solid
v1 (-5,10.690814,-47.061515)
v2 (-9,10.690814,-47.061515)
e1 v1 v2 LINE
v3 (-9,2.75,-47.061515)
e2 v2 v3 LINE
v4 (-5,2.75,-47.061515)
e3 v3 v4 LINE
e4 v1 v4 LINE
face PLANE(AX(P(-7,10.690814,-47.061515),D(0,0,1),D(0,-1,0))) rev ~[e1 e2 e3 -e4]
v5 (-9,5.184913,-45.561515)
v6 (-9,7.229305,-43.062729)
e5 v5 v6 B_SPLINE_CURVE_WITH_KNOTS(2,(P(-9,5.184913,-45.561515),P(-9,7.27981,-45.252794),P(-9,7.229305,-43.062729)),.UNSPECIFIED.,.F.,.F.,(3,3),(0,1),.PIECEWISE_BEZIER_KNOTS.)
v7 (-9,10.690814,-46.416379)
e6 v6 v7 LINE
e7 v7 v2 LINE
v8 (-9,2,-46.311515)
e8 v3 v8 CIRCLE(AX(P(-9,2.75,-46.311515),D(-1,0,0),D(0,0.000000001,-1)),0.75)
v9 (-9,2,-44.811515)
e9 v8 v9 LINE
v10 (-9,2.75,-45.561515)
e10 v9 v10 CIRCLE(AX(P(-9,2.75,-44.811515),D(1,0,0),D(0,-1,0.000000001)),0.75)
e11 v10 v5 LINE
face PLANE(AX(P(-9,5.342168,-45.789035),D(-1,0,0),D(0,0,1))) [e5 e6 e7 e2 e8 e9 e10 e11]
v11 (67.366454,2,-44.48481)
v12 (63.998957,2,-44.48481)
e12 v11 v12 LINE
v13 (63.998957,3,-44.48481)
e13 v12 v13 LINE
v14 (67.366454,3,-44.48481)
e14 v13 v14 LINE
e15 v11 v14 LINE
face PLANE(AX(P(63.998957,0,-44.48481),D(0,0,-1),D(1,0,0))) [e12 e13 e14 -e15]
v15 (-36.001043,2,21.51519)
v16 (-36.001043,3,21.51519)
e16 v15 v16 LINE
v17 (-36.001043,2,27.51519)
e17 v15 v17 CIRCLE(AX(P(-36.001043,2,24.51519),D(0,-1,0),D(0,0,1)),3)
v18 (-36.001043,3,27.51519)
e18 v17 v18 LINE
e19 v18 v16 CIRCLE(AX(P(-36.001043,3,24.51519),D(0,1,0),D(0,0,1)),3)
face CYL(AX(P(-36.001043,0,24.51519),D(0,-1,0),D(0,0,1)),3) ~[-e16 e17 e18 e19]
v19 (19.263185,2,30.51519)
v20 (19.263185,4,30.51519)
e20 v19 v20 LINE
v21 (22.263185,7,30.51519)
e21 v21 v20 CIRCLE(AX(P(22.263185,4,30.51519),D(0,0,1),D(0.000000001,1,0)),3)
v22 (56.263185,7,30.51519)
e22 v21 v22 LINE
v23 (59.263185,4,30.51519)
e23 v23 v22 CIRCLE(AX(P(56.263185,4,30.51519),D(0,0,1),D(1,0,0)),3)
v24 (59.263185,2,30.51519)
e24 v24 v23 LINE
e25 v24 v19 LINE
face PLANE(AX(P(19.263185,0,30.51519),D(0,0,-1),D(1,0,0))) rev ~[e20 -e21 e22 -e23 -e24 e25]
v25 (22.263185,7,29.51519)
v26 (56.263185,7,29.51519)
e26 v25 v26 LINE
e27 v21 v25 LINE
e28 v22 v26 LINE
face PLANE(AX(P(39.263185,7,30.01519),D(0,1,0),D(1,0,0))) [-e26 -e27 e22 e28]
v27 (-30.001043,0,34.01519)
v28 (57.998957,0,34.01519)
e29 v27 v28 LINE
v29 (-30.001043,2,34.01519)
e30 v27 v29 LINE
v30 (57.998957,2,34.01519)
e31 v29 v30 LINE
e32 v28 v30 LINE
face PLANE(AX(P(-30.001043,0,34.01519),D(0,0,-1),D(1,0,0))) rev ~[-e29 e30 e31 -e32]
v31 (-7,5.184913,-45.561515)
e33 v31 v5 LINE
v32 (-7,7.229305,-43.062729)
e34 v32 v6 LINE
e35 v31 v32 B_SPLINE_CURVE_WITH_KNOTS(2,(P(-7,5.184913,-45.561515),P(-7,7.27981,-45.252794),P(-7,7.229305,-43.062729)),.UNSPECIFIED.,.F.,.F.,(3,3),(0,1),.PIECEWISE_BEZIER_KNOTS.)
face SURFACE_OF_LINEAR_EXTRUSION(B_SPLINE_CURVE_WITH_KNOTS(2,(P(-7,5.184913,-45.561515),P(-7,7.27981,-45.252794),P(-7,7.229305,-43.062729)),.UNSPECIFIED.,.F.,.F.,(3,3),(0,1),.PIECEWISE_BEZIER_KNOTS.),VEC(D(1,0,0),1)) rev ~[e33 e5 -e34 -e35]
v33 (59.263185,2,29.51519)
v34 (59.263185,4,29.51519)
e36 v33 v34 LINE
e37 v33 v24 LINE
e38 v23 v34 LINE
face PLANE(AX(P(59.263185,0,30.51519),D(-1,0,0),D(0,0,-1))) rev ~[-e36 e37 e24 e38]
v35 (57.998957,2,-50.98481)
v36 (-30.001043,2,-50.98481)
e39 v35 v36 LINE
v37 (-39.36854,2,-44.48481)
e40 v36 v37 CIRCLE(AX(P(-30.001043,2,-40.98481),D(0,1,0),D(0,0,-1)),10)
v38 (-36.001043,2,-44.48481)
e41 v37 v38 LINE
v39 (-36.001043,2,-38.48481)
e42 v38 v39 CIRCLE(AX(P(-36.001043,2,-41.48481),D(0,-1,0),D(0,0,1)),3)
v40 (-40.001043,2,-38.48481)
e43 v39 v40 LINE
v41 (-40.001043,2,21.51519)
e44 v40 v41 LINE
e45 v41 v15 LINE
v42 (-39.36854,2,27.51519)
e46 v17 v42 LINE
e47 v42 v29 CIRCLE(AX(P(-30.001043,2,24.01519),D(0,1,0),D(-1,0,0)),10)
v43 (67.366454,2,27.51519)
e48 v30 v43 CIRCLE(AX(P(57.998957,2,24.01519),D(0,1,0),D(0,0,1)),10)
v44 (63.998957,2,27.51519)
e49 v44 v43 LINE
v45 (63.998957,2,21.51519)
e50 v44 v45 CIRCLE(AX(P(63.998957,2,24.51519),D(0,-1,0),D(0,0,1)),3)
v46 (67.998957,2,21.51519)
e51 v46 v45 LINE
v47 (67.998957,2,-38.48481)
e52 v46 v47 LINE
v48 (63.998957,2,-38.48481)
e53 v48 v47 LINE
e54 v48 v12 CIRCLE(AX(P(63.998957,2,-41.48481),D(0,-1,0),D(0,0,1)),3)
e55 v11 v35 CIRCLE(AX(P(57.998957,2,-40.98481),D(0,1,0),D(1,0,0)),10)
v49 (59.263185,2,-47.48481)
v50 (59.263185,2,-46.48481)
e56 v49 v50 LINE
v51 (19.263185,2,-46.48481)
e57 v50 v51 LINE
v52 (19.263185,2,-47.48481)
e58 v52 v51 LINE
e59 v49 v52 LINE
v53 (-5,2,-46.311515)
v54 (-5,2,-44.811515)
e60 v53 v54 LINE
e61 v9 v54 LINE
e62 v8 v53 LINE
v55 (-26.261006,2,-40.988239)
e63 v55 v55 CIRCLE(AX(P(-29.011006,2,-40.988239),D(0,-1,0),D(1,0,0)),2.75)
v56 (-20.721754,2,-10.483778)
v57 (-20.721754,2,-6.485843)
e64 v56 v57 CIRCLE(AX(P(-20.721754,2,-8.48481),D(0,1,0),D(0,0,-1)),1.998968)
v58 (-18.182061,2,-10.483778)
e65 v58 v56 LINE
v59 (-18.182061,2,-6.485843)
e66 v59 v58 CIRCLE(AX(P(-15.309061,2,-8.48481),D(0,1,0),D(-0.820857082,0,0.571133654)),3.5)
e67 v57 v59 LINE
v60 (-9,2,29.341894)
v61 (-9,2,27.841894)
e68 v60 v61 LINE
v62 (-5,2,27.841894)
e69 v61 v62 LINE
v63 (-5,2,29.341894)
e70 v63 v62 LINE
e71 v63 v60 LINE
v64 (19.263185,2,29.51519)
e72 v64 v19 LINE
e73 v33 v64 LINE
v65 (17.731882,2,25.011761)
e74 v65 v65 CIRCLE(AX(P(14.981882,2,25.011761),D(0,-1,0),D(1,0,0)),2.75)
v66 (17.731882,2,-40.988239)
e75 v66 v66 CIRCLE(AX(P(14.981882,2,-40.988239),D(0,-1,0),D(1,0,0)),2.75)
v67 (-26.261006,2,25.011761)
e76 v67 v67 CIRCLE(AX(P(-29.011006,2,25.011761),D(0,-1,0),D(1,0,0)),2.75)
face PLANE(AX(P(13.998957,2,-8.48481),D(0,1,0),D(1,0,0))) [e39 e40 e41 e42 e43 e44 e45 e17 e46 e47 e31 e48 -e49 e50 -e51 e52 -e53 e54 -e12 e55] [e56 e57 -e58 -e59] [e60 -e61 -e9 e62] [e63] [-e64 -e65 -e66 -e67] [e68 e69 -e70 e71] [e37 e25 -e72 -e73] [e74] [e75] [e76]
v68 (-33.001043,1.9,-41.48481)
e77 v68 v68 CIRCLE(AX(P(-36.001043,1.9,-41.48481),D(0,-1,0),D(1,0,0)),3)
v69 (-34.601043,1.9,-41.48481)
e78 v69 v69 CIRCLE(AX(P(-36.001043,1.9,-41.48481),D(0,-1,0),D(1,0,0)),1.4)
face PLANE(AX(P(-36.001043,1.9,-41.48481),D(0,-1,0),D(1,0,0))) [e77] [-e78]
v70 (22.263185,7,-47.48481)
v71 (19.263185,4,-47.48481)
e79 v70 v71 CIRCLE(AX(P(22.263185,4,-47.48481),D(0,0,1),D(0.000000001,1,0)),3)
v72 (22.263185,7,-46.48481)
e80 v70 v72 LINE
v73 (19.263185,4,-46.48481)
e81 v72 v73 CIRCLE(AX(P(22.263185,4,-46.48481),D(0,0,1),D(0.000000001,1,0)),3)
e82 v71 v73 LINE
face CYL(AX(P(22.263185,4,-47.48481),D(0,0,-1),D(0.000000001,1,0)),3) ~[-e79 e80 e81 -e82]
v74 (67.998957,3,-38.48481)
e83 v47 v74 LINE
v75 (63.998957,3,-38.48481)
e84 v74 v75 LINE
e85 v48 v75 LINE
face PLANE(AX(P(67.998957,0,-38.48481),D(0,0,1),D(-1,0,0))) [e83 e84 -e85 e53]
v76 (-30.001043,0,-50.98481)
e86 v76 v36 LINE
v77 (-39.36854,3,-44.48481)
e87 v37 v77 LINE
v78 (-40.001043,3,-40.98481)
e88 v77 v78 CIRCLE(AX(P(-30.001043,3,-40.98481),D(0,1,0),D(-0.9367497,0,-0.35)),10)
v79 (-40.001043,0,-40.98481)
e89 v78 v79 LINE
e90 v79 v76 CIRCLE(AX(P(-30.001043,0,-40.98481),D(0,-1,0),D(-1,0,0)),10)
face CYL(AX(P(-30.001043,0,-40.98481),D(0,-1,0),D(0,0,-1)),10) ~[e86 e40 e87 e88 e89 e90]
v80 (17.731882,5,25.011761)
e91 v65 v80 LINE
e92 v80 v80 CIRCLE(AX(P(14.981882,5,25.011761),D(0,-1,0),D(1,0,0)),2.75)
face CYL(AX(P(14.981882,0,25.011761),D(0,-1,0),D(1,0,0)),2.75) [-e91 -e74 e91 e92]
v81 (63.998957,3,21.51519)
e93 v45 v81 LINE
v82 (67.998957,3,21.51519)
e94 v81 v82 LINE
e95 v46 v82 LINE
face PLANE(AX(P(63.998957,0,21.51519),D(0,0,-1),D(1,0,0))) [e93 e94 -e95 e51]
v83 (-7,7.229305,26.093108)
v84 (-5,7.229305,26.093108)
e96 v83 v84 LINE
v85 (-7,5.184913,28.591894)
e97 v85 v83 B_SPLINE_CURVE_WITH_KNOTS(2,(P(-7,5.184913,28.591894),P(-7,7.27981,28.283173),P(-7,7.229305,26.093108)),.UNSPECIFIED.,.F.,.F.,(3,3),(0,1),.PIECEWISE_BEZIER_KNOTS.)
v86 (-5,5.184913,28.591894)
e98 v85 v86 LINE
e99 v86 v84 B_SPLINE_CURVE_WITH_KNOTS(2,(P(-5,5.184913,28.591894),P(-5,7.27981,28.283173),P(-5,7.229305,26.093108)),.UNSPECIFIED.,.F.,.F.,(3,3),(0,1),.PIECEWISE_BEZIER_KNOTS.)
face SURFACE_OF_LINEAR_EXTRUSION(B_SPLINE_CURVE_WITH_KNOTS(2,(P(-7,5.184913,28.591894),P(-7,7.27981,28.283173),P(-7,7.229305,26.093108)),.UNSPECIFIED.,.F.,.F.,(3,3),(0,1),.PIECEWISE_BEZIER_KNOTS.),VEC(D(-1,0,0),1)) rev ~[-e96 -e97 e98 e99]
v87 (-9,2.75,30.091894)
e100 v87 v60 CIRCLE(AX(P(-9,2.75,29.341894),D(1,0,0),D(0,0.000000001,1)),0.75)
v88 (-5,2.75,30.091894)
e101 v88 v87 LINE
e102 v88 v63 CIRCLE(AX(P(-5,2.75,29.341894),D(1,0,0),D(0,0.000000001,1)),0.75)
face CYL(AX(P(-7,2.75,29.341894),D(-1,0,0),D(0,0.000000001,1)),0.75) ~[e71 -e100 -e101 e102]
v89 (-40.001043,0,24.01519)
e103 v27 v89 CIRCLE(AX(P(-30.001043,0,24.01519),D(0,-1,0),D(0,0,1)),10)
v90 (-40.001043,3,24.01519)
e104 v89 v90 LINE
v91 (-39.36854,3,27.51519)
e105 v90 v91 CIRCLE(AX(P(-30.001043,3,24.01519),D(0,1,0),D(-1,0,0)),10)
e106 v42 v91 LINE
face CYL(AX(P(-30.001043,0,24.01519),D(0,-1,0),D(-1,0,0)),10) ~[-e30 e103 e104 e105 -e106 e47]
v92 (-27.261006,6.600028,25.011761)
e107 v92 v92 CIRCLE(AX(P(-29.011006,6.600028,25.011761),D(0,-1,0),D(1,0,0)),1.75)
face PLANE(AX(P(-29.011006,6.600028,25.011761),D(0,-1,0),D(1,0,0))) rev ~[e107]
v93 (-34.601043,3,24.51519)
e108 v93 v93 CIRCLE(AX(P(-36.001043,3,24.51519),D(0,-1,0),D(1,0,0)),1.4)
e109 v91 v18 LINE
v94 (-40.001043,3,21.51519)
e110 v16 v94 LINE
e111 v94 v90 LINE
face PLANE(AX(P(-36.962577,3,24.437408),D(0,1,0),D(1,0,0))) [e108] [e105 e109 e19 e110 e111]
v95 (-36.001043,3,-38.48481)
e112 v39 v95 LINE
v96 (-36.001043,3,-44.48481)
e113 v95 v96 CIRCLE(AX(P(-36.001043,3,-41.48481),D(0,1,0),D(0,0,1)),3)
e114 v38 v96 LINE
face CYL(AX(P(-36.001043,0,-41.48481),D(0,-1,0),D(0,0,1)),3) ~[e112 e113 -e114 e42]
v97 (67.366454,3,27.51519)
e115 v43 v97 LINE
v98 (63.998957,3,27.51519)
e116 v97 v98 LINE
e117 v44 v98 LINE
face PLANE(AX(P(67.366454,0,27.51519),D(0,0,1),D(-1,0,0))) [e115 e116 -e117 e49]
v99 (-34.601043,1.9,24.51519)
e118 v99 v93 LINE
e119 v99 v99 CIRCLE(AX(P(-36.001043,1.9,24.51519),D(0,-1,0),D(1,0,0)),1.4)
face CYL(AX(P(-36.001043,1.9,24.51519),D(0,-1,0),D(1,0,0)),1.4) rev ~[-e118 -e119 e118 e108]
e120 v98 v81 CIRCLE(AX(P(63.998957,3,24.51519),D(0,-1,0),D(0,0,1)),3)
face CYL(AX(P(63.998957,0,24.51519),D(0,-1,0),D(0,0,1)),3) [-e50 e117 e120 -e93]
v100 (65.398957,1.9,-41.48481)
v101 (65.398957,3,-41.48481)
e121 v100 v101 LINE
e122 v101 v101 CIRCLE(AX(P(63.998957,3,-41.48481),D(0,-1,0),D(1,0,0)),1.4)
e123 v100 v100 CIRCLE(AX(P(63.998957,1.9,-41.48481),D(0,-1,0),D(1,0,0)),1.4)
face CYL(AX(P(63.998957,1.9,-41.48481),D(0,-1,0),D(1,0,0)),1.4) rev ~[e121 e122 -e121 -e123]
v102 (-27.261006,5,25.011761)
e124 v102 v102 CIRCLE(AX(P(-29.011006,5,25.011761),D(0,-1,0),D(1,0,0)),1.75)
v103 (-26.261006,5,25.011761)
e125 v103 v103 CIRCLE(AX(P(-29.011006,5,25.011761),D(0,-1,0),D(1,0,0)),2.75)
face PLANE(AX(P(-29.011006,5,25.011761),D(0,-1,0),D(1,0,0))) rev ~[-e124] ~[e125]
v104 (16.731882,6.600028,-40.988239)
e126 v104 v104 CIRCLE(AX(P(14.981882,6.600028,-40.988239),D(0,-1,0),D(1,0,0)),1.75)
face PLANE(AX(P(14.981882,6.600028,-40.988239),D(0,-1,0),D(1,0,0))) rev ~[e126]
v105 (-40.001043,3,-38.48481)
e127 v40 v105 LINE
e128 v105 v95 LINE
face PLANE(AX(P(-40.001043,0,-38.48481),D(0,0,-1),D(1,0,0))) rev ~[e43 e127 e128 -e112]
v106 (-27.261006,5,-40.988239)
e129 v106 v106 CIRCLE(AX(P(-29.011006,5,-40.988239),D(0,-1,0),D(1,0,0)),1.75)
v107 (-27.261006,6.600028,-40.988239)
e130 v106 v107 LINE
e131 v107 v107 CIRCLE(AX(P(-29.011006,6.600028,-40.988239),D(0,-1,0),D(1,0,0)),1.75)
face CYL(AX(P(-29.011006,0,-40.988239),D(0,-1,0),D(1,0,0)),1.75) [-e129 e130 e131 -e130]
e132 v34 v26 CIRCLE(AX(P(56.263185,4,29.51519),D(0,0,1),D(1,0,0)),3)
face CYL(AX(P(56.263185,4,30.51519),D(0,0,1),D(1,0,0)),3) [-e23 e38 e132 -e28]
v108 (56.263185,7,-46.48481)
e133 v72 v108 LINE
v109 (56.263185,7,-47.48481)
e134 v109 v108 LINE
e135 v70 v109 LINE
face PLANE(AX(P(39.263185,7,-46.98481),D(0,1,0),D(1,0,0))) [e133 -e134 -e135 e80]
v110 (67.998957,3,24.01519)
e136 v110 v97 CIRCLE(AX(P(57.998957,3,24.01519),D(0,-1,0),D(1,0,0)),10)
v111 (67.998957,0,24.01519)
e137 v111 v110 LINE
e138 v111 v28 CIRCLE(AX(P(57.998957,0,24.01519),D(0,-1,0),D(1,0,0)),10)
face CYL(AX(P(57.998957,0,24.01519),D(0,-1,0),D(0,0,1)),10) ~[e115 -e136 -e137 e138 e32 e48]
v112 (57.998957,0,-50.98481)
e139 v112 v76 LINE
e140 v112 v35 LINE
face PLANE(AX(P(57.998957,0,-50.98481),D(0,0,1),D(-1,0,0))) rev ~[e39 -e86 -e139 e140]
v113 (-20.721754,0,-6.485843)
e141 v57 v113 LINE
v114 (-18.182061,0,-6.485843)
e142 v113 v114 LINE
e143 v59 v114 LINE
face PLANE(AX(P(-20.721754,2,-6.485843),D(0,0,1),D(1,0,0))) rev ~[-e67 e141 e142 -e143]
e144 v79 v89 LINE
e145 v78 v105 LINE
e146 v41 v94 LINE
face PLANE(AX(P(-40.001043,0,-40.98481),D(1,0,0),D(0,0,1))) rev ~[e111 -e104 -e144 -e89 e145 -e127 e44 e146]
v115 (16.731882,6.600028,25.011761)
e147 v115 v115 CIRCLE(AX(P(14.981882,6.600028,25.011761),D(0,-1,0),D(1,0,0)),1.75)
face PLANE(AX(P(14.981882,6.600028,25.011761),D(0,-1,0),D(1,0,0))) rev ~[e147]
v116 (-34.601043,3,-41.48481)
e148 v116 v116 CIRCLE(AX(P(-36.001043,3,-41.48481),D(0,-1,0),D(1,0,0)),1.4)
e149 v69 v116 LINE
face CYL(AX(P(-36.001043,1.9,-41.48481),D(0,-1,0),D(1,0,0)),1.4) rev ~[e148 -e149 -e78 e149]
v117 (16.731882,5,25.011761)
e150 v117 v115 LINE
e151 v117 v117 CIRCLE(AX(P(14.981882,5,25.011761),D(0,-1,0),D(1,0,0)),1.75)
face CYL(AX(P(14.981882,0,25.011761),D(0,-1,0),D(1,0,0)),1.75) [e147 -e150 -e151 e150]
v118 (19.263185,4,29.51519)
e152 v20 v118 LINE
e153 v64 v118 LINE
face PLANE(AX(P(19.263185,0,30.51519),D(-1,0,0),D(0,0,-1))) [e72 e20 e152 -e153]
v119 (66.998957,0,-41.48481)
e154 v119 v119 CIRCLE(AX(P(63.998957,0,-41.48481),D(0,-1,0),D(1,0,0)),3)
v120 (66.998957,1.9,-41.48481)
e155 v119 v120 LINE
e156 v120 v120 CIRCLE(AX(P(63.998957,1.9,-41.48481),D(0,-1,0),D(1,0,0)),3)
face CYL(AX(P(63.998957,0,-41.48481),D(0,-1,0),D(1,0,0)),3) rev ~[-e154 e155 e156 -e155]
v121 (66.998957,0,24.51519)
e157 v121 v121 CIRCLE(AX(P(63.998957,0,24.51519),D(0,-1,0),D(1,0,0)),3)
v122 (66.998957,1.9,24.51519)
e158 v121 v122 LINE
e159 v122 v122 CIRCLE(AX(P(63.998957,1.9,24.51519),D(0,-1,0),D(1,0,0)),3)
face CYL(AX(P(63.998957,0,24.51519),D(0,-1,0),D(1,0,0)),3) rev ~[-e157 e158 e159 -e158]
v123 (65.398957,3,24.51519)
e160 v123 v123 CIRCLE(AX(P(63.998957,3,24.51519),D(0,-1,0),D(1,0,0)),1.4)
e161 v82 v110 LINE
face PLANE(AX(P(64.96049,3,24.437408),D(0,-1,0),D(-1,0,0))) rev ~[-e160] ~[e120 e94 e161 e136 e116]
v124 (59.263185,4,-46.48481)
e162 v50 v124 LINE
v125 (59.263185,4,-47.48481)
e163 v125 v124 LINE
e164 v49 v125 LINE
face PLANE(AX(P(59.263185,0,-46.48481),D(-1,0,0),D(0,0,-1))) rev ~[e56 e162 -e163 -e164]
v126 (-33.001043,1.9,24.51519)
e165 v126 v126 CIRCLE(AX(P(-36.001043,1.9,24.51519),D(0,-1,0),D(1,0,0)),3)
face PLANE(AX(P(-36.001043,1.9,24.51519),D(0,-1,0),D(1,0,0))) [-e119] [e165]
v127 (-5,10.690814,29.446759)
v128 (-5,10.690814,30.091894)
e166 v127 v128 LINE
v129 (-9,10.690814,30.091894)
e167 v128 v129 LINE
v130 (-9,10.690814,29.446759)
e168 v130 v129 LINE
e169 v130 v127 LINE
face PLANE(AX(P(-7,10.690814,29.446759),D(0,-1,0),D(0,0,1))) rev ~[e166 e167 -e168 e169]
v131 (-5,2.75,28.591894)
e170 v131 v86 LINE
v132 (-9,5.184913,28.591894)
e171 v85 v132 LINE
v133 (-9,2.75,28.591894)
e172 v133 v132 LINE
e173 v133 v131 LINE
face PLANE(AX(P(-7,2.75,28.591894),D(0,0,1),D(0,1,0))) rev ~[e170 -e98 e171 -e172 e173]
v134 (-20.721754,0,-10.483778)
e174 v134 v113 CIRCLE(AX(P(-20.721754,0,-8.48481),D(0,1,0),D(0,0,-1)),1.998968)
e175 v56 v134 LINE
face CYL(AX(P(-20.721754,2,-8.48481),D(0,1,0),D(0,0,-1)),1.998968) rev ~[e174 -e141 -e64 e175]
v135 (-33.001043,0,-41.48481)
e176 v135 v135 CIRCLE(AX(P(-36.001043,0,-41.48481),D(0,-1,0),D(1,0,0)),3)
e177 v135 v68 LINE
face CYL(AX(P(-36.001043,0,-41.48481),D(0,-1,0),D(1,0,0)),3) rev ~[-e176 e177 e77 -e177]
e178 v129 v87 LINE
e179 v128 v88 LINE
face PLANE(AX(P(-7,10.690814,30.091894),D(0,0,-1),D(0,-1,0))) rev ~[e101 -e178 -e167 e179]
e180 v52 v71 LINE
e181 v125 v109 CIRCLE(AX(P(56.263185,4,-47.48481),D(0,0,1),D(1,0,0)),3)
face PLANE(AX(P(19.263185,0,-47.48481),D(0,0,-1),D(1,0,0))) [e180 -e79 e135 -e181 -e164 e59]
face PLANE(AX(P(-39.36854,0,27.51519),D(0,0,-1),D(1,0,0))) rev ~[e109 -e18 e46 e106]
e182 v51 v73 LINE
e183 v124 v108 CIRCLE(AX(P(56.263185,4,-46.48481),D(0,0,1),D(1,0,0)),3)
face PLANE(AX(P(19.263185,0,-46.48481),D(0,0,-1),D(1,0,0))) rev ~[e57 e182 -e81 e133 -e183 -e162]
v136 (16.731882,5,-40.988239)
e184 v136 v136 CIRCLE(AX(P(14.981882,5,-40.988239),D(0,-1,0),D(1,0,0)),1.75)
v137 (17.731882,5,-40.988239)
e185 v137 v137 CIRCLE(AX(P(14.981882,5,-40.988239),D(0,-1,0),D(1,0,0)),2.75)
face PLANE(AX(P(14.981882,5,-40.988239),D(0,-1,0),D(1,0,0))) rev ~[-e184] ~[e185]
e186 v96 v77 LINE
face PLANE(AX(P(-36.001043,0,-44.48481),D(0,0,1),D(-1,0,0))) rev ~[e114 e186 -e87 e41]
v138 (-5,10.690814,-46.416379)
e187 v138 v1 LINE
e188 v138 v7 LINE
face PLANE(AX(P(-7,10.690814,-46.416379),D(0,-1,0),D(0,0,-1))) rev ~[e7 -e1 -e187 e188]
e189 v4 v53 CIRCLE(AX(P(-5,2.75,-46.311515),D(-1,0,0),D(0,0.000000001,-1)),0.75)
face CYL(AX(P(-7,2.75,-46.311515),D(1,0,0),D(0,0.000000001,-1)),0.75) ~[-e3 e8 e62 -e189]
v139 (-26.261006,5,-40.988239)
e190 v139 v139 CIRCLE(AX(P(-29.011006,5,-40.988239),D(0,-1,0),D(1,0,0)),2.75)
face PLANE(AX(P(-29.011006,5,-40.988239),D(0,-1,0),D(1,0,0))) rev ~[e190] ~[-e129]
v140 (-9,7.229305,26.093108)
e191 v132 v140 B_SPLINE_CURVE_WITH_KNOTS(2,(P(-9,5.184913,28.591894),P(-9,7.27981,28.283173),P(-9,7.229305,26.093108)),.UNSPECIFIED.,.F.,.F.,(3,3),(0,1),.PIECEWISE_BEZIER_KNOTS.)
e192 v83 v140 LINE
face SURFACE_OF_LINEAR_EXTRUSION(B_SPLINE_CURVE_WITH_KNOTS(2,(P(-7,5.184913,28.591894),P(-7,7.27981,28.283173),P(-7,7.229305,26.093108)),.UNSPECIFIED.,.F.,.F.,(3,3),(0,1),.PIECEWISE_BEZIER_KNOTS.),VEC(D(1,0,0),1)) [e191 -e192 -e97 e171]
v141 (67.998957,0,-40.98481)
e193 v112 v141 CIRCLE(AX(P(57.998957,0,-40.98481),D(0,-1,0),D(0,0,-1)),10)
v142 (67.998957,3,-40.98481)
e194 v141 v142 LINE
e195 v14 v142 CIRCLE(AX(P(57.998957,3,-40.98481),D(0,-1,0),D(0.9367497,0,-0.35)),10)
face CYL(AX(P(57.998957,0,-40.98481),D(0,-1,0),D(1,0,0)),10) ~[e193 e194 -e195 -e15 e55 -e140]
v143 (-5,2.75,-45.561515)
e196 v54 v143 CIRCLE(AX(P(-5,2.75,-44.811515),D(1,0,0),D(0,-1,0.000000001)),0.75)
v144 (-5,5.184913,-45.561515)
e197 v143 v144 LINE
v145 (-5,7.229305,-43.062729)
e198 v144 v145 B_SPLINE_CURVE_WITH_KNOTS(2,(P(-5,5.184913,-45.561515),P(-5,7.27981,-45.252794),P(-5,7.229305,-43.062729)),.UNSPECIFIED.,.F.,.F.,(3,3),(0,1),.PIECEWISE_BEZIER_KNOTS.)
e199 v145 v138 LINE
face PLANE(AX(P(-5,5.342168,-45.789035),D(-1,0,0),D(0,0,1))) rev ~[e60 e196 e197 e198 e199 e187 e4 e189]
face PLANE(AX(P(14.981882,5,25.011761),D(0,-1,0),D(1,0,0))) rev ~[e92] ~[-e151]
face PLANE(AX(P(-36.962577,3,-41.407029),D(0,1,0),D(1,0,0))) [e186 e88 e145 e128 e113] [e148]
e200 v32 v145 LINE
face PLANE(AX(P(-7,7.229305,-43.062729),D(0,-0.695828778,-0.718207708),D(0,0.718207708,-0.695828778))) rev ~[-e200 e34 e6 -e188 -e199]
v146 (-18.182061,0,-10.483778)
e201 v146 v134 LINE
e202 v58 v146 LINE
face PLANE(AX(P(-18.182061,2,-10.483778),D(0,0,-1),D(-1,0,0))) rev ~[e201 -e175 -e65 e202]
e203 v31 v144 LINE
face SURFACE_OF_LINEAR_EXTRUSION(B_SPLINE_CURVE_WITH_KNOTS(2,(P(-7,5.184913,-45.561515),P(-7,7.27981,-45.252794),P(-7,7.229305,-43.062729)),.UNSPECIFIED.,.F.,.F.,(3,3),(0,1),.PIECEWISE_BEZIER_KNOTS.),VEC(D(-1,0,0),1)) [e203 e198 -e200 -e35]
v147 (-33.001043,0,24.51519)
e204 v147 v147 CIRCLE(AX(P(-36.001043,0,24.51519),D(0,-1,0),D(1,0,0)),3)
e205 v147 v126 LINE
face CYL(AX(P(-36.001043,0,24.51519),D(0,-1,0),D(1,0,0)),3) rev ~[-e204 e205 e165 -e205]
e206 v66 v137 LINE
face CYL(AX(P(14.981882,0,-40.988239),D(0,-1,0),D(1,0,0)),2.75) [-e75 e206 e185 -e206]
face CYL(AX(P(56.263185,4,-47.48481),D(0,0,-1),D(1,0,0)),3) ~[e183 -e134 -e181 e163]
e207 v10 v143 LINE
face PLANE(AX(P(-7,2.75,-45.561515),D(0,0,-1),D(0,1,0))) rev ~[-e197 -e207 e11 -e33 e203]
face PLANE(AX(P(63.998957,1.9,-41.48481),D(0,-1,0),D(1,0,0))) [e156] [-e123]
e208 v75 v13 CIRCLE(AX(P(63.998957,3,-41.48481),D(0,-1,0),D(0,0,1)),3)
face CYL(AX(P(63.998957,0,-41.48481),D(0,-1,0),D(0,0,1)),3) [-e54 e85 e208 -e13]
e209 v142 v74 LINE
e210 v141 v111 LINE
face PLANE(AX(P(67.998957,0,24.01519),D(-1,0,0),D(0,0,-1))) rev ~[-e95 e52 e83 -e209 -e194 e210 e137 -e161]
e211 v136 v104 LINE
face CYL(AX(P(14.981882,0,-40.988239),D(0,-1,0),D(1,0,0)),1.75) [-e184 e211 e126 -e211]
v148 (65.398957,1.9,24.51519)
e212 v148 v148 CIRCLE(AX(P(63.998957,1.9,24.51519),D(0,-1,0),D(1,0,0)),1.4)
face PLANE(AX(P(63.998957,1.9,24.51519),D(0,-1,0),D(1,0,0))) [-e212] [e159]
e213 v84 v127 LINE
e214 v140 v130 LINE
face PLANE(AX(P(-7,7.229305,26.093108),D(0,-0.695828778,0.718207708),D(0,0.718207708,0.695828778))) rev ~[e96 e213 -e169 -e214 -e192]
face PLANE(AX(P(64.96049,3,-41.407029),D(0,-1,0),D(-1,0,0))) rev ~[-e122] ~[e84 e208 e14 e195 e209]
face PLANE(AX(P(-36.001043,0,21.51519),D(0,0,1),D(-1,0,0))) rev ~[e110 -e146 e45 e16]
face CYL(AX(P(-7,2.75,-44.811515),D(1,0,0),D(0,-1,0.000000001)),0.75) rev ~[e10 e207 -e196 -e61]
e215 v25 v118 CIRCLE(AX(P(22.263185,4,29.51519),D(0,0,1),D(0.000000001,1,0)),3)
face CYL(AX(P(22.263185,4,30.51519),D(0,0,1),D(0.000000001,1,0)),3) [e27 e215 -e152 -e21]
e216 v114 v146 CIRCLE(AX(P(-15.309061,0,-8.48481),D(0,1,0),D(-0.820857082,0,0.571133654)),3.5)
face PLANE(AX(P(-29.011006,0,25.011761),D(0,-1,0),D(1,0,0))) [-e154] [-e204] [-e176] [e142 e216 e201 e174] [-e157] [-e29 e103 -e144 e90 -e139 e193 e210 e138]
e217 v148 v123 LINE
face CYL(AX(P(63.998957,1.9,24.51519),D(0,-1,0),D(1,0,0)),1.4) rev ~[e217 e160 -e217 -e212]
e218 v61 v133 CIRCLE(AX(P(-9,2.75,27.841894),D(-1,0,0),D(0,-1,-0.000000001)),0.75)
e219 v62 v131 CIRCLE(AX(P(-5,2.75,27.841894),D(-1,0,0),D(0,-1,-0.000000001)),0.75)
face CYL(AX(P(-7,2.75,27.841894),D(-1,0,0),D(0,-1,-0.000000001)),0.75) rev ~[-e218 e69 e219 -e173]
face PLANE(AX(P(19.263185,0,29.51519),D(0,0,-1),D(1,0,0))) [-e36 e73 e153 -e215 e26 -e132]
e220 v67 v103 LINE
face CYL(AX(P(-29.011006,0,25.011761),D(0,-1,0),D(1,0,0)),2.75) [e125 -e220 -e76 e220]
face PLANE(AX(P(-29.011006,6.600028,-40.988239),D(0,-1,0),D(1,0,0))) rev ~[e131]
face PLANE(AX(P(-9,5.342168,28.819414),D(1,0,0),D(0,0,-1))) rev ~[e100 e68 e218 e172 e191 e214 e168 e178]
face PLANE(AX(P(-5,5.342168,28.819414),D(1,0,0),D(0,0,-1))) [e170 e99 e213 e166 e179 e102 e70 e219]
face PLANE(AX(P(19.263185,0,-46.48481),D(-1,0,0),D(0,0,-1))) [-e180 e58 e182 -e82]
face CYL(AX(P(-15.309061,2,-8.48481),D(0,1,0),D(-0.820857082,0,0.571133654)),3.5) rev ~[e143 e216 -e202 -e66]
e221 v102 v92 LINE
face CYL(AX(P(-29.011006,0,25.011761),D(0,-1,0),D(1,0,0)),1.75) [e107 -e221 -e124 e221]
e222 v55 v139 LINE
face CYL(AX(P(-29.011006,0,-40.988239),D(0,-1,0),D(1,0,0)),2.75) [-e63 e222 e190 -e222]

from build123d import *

# Parameters (mm, degrees)
BOSS_EXTRUDE2_DEPTH      = 2
CUT_EXTRUDE2_DEPTH       = 7
SKETCH10_W               = 40
SKETCH10_H               = 1
BOSS_EXTRUDE3_DEPTH      = 7
CUT_EXTRUDE4_DEPTH       = 1
CUT_EXTRUDE5_DEPTH       = 1
SKETCH14_R               = 1.75
BOSS_EXTRUDE4_DEPTH      = 6.600028
SKETCH15_R               = 2.75
BOSS_EXTRUDE5_DEPTH      = 5
BOSS_EXTRUDE7_DEPTH      = 2
BOSS_EXTRUDE7_DEPTH_BACK = 2
BOSS_EXTRUDE8_DEPTH      = 3
SKETCH21_R               = 3
CUT_EXTRUDE7_DEPTH       = 1.9
SKETCH22_R               = 1.4
CUT_EXTRUDE8_DEPTH       = 15


with BuildPart() as part:
    # Sketch3 → Boss-Extrude2 (new body)
    with BuildSketch(Plane(origin=(0, 0, 0), x_dir=(1, 0, 0), z_dir=(0, 1, 0))):
        with BuildLine():
            Line((-30.001043465, -34.015189653), (57.998956535, -34.015189653))
            ThreePointArc((57.998956535, -34.015189653), (65.070024347, -31.086257464), (67.998956535, -24.015189653))
            Line((67.998956535, -24.015189653), (67.998956535, 40.984810347))
            ThreePointArc((67.998956535, 40.984810347), (65.070024347, 48.055878159), (57.998956535, 50.984810347))
            Line((57.998956535, 50.984810347), (-30.001043465, 50.984810347))
            ThreePointArc((-30.001043465, 50.984810347), (-37.072111277, 48.055878159), (-40.001043465, 40.984810347))
            Line((-40.001043465, 40.984810347), (-40.001043465, -24.015189653))
            ThreePointArc((-40.001043465, -24.015189653), (-37.072111277, -31.086257464), (-30.001043465, -34.015189653))
        make_face()
    extrude(amount=BOSS_EXTRUDE2_DEPTH)

    # Sketch6 → Cut-Extrude2 (cut)
    with BuildSketch(Plane(origin=(0, 2, 0), x_dir=(1, 0, 0), z_dir=(0, 1, 0))):
        with BuildLine():
            Line((-18.182060551, 10.483778137), (-20.721753803, 10.483778137))
            ThreePointArc((-20.721753803, 10.483778137), (-22.720721593, 8.484810347), (-20.721753803, 6.485842558))
            Line((-20.721753803, 6.485842558), (-18.182060551, 6.485842558))
            ThreePointArc((-18.182060551, 6.485842558), (-11.809060764, 8.484810347), (-18.182060551, 10.483778137))
        make_face()
    extrude(amount=-CUT_EXTRUDE2_DEPTH, mode=Mode.SUBTRACT)

    # Sketch10 → Boss-Extrude3 (add)
    with BuildSketch(Plane(origin=(0, 0, 0), x_dir=(1, 0, 0), z_dir=(0, 1, 0))):
        with Locations((39.263184903, 46.984810347)):
            Rectangle(SKETCH10_W, SKETCH10_H)
        with Locations((39.263184903, -30.015189653)):
            Rectangle(SKETCH10_W, SKETCH10_H)
    extrude(amount=BOSS_EXTRUDE3_DEPTH)

    # Sketch12 → Cut-Extrude4 (cut)
    with BuildSketch(Plane.XY.offset(30.515189653)):
        with BuildLine():
            Line((56.263184903, 7), (59.263184903, 7))
            Line((59.263184903, 7), (59.263184903, 4))
            ThreePointArc((59.263184903, 4), (58.384505246, 6.121320344), (56.263184903, 7))
        make_face()
        with BuildLine():
            Line((19.263184903, 4), (19.263184903, 7))
            Line((19.263184903, 7), (22.263184903, 7))
            ThreePointArc((22.263184903, 7), (20.141864559, 6.121320344), (19.263184903, 4))
        make_face()
    extrude(amount=-CUT_EXTRUDE4_DEPTH, mode=Mode.SUBTRACT)

    # Sketch13 → Cut-Extrude5 (cut)
    with BuildSketch(Plane(origin=(0, 0, -47.484810347), x_dir=(-1, 0, 0), z_dir=(0, 0, -1))):
        with BuildLine():
            Line((-56.263184903, 7), (-59.263184903, 7))
            Line((-59.263184903, 7), (-59.263184903, 4))
            ThreePointArc((-59.263184903, 4), (-58.384505246, 6.121320344), (-56.263184903, 7))
        make_face()
        with BuildLine():
            Line((-19.263184903, 4), (-19.263184903, 7))
            Line((-19.263184903, 7), (-22.263184903, 7))
            ThreePointArc((-22.263184903, 7), (-20.141864559, 6.121320344), (-19.263184903, 4))
        make_face()
    extrude(amount=-CUT_EXTRUDE5_DEPTH, mode=Mode.SUBTRACT)

    # Sketch14 → Boss-Extrude4 (add)
    with BuildSketch(Plane.XZ):
        with Locations((-29.011006112, 25.011760646)):
            Circle(SKETCH14_R)
        with Locations((14.981881874, 25.011760646)):
            Circle(SKETCH14_R)
        with Locations((14.981881874, -40.988239354)):
            Circle(SKETCH14_R)
        with Locations((-29.011006112, -40.988239354)):
            Circle(SKETCH14_R)
    extrude(amount=-BOSS_EXTRUDE4_DEPTH)

    # Sketch15 → Boss-Extrude5 (add)
    with BuildSketch(Plane.XZ):
        with Locations((-29.011006112, 25.011760646)):
            Circle(SKETCH15_R)
        with Locations((14.981881874, 25.011760646)):
            Circle(SKETCH15_R)
        with Locations((14.981881874, -40.988239354)):
            Circle(SKETCH15_R)
        with Locations((-29.011006112, -40.988239354)):
            Circle(SKETCH15_R)
    extrude(amount=-BOSS_EXTRUDE5_DEPTH)

    # Sketch19 → Boss-Extrude7 (add, two sides)
    with BuildSketch(Plane(origin=(-7, 0, 0), x_dir=(0, 0, -1), z_dir=(1, 0, 0))) as boss_extrude7_sk:
        with BuildLine():
            add(Edge.make_bspline(
                [(45.56151484, 5.184913415), (45.252793653, 7.279810059), (43.062728824, 7.229305282)],
                knots=[0, 0, 0, 1, 1, 1], degree=2))
            Line((43.062728824, 7.229305282), (46.416379445, 10.690814493))
            Line((46.416379445, 10.690814493), (47.06151484, 10.690814493))
            Line((47.06151484, 10.690814493), (47.06151484, 2.75))
            ThreePointArc((47.06151484, 2.75), (46.841844926, 2.219669914), (46.31151484, 2))
            Line((46.31151484, 2), (46.31151484, 0))
            Line((46.31151484, 0), (44.81151484, 0))
            Line((44.81151484, 0), (44.81151484, 2))
            ThreePointArc((44.81151484, 2), (45.341844926, 2.219669914), (45.56151484, 2.75))
            Line((45.56151484, 2.75), (45.56151484, 5.184913415))
        make_face()
        with BuildLine():
            Line((-29.44675875, 10.690814493), (-30.091894145, 10.690814493))
            Line((-30.091894145, 10.690814493), (-30.091894145, 2.75))
            ThreePointArc((-30.091894145, 2.75), (-29.872224231, 2.219669914), (-29.341894145, 2))
            Line((-29.341894145, 2), (-29.341894145, 0))
            Line((-29.341894145, 0), (-28.591894145, 0))
            Line((-28.591894145, 0), (-27.841894145, 0))
            Line((-27.841894145, 0), (-27.841894145, 2))
            ThreePointArc((-27.841894145, 2), (-28.372224231, 2.219669914), (-28.591894145, 2.75))
            Line((-28.591894145, 2.75), (-28.591894145, 5.184913415))
            add(Edge.make_bspline(
                [(-28.591894145, 5.184913415), (-28.283172958, 7.279810059), (-26.09310813, 7.229305282)],
                knots=[0, 0, 0, 1, 1, 1], degree=2))
            Line((-26.09310813, 7.229305282), (-29.44675875, 10.690814493))
        make_face()
    extrude(amount=BOSS_EXTRUDE7_DEPTH)
    extrude(boss_extrude7_sk.sketch, amount=-BOSS_EXTRUDE7_DEPTH_BACK)

    # Sketch5 → Boss-Extrude8 (add)
    with BuildSketch(Plane(origin=(0, 0, 34.015189653), x_dir=(1, 0, 0), z_dir=(0, 1, 0))):
        with BuildLine():
            Line((-36.001043465, 78.5), (-39.368540462, 78.5))
            ThreePointArc((-39.368540462, 78.5), (-39.841647358, 76.778346145), (-40.001043465, 75))
            Line((-40.001043465, 75), (-40.001043465, 72.5))
            Line((-40.001043465, 72.5), (-36.001043465, 72.5))
            ThreePointArc((-36.001043465, 72.5), (-33.001043465, 75.5), (-36.001043465, 78.5))
        make_face()
        with BuildLine():
            Line((63.998956535, 78.5), (67.366453533, 78.5))
            ThreePointArc((67.366453533, 78.5), (67.839560429, 76.778346145), (67.998956535, 75))
            Line((67.998956535, 75), (67.998956535, 72.5))
            Line((67.998956535, 72.5), (63.998956535, 72.5))
            ThreePointArc((63.998956535, 72.5), (60.998956535, 75.5), (63.998956535, 78.5))
        make_face()
        with BuildLine():
            Line((63.998956535, 12.5), (67.998956535, 12.5))
            Line((67.998956535, 12.5), (67.998956535, 10))
            ThreePointArc((67.998956535, 10), (67.839560429, 8.221653855), (67.366453533, 6.5))
            Line((67.366453533, 6.5), (63.998956535, 6.5))
            ThreePointArc((63.998956535, 6.5), (60.998956535, 9.5), (63.998956535, 12.5))
        make_face()
        with BuildLine():
            Line((-36.001043465, 12.5), (-40.001043465, 12.5))
            Line((-40.001043465, 12.5), (-40.001043465, 10))
            ThreePointArc((-40.001043465, 10), (-39.841647358, 8.221653855), (-39.368540462, 6.5))
            Line((-39.368540462, 6.5), (-36.001043465, 6.5))
            ThreePointArc((-36.001043465, 6.5), (-33.001043465, 9.5), (-36.001043465, 12.5))
        make_face()
    extrude(amount=BOSS_EXTRUDE8_DEPTH)

    # Sketch21 → Cut-Extrude7 (cut)
    with BuildSketch(Plane.XZ):
        with Locations((-36.001043465, 24.515189653)):
            Circle(SKETCH21_R)
        with Locations((63.998956535, 24.515189653)):
            Circle(SKETCH21_R)
        with Locations((63.998956535, -41.484810347)):
            Circle(SKETCH21_R)
        with Locations((-36.001043465, -41.484810347)):
            Circle(SKETCH21_R)
    extrude(amount=-CUT_EXTRUDE7_DEPTH, mode=Mode.SUBTRACT)

    # Sketch22 → Cut-Extrude8 (cut)
    with BuildSketch(Plane.XZ.offset(-1.9)):
        with Locations((-36.001043465, 24.515189653)):
            Circle(SKETCH22_R)
        with Locations((63.998956535, 24.515189653)):
            Circle(SKETCH22_R)
        with Locations((63.998956535, -41.484810347)):
            Circle(SKETCH22_R)
        with Locations((-36.001043465, -41.484810347)):
            Circle(SKETCH22_R)
    extrude(amount=-CUT_EXTRUDE8_DEPTH, mode=Mode.SUBTRACT)


solid = part.part
